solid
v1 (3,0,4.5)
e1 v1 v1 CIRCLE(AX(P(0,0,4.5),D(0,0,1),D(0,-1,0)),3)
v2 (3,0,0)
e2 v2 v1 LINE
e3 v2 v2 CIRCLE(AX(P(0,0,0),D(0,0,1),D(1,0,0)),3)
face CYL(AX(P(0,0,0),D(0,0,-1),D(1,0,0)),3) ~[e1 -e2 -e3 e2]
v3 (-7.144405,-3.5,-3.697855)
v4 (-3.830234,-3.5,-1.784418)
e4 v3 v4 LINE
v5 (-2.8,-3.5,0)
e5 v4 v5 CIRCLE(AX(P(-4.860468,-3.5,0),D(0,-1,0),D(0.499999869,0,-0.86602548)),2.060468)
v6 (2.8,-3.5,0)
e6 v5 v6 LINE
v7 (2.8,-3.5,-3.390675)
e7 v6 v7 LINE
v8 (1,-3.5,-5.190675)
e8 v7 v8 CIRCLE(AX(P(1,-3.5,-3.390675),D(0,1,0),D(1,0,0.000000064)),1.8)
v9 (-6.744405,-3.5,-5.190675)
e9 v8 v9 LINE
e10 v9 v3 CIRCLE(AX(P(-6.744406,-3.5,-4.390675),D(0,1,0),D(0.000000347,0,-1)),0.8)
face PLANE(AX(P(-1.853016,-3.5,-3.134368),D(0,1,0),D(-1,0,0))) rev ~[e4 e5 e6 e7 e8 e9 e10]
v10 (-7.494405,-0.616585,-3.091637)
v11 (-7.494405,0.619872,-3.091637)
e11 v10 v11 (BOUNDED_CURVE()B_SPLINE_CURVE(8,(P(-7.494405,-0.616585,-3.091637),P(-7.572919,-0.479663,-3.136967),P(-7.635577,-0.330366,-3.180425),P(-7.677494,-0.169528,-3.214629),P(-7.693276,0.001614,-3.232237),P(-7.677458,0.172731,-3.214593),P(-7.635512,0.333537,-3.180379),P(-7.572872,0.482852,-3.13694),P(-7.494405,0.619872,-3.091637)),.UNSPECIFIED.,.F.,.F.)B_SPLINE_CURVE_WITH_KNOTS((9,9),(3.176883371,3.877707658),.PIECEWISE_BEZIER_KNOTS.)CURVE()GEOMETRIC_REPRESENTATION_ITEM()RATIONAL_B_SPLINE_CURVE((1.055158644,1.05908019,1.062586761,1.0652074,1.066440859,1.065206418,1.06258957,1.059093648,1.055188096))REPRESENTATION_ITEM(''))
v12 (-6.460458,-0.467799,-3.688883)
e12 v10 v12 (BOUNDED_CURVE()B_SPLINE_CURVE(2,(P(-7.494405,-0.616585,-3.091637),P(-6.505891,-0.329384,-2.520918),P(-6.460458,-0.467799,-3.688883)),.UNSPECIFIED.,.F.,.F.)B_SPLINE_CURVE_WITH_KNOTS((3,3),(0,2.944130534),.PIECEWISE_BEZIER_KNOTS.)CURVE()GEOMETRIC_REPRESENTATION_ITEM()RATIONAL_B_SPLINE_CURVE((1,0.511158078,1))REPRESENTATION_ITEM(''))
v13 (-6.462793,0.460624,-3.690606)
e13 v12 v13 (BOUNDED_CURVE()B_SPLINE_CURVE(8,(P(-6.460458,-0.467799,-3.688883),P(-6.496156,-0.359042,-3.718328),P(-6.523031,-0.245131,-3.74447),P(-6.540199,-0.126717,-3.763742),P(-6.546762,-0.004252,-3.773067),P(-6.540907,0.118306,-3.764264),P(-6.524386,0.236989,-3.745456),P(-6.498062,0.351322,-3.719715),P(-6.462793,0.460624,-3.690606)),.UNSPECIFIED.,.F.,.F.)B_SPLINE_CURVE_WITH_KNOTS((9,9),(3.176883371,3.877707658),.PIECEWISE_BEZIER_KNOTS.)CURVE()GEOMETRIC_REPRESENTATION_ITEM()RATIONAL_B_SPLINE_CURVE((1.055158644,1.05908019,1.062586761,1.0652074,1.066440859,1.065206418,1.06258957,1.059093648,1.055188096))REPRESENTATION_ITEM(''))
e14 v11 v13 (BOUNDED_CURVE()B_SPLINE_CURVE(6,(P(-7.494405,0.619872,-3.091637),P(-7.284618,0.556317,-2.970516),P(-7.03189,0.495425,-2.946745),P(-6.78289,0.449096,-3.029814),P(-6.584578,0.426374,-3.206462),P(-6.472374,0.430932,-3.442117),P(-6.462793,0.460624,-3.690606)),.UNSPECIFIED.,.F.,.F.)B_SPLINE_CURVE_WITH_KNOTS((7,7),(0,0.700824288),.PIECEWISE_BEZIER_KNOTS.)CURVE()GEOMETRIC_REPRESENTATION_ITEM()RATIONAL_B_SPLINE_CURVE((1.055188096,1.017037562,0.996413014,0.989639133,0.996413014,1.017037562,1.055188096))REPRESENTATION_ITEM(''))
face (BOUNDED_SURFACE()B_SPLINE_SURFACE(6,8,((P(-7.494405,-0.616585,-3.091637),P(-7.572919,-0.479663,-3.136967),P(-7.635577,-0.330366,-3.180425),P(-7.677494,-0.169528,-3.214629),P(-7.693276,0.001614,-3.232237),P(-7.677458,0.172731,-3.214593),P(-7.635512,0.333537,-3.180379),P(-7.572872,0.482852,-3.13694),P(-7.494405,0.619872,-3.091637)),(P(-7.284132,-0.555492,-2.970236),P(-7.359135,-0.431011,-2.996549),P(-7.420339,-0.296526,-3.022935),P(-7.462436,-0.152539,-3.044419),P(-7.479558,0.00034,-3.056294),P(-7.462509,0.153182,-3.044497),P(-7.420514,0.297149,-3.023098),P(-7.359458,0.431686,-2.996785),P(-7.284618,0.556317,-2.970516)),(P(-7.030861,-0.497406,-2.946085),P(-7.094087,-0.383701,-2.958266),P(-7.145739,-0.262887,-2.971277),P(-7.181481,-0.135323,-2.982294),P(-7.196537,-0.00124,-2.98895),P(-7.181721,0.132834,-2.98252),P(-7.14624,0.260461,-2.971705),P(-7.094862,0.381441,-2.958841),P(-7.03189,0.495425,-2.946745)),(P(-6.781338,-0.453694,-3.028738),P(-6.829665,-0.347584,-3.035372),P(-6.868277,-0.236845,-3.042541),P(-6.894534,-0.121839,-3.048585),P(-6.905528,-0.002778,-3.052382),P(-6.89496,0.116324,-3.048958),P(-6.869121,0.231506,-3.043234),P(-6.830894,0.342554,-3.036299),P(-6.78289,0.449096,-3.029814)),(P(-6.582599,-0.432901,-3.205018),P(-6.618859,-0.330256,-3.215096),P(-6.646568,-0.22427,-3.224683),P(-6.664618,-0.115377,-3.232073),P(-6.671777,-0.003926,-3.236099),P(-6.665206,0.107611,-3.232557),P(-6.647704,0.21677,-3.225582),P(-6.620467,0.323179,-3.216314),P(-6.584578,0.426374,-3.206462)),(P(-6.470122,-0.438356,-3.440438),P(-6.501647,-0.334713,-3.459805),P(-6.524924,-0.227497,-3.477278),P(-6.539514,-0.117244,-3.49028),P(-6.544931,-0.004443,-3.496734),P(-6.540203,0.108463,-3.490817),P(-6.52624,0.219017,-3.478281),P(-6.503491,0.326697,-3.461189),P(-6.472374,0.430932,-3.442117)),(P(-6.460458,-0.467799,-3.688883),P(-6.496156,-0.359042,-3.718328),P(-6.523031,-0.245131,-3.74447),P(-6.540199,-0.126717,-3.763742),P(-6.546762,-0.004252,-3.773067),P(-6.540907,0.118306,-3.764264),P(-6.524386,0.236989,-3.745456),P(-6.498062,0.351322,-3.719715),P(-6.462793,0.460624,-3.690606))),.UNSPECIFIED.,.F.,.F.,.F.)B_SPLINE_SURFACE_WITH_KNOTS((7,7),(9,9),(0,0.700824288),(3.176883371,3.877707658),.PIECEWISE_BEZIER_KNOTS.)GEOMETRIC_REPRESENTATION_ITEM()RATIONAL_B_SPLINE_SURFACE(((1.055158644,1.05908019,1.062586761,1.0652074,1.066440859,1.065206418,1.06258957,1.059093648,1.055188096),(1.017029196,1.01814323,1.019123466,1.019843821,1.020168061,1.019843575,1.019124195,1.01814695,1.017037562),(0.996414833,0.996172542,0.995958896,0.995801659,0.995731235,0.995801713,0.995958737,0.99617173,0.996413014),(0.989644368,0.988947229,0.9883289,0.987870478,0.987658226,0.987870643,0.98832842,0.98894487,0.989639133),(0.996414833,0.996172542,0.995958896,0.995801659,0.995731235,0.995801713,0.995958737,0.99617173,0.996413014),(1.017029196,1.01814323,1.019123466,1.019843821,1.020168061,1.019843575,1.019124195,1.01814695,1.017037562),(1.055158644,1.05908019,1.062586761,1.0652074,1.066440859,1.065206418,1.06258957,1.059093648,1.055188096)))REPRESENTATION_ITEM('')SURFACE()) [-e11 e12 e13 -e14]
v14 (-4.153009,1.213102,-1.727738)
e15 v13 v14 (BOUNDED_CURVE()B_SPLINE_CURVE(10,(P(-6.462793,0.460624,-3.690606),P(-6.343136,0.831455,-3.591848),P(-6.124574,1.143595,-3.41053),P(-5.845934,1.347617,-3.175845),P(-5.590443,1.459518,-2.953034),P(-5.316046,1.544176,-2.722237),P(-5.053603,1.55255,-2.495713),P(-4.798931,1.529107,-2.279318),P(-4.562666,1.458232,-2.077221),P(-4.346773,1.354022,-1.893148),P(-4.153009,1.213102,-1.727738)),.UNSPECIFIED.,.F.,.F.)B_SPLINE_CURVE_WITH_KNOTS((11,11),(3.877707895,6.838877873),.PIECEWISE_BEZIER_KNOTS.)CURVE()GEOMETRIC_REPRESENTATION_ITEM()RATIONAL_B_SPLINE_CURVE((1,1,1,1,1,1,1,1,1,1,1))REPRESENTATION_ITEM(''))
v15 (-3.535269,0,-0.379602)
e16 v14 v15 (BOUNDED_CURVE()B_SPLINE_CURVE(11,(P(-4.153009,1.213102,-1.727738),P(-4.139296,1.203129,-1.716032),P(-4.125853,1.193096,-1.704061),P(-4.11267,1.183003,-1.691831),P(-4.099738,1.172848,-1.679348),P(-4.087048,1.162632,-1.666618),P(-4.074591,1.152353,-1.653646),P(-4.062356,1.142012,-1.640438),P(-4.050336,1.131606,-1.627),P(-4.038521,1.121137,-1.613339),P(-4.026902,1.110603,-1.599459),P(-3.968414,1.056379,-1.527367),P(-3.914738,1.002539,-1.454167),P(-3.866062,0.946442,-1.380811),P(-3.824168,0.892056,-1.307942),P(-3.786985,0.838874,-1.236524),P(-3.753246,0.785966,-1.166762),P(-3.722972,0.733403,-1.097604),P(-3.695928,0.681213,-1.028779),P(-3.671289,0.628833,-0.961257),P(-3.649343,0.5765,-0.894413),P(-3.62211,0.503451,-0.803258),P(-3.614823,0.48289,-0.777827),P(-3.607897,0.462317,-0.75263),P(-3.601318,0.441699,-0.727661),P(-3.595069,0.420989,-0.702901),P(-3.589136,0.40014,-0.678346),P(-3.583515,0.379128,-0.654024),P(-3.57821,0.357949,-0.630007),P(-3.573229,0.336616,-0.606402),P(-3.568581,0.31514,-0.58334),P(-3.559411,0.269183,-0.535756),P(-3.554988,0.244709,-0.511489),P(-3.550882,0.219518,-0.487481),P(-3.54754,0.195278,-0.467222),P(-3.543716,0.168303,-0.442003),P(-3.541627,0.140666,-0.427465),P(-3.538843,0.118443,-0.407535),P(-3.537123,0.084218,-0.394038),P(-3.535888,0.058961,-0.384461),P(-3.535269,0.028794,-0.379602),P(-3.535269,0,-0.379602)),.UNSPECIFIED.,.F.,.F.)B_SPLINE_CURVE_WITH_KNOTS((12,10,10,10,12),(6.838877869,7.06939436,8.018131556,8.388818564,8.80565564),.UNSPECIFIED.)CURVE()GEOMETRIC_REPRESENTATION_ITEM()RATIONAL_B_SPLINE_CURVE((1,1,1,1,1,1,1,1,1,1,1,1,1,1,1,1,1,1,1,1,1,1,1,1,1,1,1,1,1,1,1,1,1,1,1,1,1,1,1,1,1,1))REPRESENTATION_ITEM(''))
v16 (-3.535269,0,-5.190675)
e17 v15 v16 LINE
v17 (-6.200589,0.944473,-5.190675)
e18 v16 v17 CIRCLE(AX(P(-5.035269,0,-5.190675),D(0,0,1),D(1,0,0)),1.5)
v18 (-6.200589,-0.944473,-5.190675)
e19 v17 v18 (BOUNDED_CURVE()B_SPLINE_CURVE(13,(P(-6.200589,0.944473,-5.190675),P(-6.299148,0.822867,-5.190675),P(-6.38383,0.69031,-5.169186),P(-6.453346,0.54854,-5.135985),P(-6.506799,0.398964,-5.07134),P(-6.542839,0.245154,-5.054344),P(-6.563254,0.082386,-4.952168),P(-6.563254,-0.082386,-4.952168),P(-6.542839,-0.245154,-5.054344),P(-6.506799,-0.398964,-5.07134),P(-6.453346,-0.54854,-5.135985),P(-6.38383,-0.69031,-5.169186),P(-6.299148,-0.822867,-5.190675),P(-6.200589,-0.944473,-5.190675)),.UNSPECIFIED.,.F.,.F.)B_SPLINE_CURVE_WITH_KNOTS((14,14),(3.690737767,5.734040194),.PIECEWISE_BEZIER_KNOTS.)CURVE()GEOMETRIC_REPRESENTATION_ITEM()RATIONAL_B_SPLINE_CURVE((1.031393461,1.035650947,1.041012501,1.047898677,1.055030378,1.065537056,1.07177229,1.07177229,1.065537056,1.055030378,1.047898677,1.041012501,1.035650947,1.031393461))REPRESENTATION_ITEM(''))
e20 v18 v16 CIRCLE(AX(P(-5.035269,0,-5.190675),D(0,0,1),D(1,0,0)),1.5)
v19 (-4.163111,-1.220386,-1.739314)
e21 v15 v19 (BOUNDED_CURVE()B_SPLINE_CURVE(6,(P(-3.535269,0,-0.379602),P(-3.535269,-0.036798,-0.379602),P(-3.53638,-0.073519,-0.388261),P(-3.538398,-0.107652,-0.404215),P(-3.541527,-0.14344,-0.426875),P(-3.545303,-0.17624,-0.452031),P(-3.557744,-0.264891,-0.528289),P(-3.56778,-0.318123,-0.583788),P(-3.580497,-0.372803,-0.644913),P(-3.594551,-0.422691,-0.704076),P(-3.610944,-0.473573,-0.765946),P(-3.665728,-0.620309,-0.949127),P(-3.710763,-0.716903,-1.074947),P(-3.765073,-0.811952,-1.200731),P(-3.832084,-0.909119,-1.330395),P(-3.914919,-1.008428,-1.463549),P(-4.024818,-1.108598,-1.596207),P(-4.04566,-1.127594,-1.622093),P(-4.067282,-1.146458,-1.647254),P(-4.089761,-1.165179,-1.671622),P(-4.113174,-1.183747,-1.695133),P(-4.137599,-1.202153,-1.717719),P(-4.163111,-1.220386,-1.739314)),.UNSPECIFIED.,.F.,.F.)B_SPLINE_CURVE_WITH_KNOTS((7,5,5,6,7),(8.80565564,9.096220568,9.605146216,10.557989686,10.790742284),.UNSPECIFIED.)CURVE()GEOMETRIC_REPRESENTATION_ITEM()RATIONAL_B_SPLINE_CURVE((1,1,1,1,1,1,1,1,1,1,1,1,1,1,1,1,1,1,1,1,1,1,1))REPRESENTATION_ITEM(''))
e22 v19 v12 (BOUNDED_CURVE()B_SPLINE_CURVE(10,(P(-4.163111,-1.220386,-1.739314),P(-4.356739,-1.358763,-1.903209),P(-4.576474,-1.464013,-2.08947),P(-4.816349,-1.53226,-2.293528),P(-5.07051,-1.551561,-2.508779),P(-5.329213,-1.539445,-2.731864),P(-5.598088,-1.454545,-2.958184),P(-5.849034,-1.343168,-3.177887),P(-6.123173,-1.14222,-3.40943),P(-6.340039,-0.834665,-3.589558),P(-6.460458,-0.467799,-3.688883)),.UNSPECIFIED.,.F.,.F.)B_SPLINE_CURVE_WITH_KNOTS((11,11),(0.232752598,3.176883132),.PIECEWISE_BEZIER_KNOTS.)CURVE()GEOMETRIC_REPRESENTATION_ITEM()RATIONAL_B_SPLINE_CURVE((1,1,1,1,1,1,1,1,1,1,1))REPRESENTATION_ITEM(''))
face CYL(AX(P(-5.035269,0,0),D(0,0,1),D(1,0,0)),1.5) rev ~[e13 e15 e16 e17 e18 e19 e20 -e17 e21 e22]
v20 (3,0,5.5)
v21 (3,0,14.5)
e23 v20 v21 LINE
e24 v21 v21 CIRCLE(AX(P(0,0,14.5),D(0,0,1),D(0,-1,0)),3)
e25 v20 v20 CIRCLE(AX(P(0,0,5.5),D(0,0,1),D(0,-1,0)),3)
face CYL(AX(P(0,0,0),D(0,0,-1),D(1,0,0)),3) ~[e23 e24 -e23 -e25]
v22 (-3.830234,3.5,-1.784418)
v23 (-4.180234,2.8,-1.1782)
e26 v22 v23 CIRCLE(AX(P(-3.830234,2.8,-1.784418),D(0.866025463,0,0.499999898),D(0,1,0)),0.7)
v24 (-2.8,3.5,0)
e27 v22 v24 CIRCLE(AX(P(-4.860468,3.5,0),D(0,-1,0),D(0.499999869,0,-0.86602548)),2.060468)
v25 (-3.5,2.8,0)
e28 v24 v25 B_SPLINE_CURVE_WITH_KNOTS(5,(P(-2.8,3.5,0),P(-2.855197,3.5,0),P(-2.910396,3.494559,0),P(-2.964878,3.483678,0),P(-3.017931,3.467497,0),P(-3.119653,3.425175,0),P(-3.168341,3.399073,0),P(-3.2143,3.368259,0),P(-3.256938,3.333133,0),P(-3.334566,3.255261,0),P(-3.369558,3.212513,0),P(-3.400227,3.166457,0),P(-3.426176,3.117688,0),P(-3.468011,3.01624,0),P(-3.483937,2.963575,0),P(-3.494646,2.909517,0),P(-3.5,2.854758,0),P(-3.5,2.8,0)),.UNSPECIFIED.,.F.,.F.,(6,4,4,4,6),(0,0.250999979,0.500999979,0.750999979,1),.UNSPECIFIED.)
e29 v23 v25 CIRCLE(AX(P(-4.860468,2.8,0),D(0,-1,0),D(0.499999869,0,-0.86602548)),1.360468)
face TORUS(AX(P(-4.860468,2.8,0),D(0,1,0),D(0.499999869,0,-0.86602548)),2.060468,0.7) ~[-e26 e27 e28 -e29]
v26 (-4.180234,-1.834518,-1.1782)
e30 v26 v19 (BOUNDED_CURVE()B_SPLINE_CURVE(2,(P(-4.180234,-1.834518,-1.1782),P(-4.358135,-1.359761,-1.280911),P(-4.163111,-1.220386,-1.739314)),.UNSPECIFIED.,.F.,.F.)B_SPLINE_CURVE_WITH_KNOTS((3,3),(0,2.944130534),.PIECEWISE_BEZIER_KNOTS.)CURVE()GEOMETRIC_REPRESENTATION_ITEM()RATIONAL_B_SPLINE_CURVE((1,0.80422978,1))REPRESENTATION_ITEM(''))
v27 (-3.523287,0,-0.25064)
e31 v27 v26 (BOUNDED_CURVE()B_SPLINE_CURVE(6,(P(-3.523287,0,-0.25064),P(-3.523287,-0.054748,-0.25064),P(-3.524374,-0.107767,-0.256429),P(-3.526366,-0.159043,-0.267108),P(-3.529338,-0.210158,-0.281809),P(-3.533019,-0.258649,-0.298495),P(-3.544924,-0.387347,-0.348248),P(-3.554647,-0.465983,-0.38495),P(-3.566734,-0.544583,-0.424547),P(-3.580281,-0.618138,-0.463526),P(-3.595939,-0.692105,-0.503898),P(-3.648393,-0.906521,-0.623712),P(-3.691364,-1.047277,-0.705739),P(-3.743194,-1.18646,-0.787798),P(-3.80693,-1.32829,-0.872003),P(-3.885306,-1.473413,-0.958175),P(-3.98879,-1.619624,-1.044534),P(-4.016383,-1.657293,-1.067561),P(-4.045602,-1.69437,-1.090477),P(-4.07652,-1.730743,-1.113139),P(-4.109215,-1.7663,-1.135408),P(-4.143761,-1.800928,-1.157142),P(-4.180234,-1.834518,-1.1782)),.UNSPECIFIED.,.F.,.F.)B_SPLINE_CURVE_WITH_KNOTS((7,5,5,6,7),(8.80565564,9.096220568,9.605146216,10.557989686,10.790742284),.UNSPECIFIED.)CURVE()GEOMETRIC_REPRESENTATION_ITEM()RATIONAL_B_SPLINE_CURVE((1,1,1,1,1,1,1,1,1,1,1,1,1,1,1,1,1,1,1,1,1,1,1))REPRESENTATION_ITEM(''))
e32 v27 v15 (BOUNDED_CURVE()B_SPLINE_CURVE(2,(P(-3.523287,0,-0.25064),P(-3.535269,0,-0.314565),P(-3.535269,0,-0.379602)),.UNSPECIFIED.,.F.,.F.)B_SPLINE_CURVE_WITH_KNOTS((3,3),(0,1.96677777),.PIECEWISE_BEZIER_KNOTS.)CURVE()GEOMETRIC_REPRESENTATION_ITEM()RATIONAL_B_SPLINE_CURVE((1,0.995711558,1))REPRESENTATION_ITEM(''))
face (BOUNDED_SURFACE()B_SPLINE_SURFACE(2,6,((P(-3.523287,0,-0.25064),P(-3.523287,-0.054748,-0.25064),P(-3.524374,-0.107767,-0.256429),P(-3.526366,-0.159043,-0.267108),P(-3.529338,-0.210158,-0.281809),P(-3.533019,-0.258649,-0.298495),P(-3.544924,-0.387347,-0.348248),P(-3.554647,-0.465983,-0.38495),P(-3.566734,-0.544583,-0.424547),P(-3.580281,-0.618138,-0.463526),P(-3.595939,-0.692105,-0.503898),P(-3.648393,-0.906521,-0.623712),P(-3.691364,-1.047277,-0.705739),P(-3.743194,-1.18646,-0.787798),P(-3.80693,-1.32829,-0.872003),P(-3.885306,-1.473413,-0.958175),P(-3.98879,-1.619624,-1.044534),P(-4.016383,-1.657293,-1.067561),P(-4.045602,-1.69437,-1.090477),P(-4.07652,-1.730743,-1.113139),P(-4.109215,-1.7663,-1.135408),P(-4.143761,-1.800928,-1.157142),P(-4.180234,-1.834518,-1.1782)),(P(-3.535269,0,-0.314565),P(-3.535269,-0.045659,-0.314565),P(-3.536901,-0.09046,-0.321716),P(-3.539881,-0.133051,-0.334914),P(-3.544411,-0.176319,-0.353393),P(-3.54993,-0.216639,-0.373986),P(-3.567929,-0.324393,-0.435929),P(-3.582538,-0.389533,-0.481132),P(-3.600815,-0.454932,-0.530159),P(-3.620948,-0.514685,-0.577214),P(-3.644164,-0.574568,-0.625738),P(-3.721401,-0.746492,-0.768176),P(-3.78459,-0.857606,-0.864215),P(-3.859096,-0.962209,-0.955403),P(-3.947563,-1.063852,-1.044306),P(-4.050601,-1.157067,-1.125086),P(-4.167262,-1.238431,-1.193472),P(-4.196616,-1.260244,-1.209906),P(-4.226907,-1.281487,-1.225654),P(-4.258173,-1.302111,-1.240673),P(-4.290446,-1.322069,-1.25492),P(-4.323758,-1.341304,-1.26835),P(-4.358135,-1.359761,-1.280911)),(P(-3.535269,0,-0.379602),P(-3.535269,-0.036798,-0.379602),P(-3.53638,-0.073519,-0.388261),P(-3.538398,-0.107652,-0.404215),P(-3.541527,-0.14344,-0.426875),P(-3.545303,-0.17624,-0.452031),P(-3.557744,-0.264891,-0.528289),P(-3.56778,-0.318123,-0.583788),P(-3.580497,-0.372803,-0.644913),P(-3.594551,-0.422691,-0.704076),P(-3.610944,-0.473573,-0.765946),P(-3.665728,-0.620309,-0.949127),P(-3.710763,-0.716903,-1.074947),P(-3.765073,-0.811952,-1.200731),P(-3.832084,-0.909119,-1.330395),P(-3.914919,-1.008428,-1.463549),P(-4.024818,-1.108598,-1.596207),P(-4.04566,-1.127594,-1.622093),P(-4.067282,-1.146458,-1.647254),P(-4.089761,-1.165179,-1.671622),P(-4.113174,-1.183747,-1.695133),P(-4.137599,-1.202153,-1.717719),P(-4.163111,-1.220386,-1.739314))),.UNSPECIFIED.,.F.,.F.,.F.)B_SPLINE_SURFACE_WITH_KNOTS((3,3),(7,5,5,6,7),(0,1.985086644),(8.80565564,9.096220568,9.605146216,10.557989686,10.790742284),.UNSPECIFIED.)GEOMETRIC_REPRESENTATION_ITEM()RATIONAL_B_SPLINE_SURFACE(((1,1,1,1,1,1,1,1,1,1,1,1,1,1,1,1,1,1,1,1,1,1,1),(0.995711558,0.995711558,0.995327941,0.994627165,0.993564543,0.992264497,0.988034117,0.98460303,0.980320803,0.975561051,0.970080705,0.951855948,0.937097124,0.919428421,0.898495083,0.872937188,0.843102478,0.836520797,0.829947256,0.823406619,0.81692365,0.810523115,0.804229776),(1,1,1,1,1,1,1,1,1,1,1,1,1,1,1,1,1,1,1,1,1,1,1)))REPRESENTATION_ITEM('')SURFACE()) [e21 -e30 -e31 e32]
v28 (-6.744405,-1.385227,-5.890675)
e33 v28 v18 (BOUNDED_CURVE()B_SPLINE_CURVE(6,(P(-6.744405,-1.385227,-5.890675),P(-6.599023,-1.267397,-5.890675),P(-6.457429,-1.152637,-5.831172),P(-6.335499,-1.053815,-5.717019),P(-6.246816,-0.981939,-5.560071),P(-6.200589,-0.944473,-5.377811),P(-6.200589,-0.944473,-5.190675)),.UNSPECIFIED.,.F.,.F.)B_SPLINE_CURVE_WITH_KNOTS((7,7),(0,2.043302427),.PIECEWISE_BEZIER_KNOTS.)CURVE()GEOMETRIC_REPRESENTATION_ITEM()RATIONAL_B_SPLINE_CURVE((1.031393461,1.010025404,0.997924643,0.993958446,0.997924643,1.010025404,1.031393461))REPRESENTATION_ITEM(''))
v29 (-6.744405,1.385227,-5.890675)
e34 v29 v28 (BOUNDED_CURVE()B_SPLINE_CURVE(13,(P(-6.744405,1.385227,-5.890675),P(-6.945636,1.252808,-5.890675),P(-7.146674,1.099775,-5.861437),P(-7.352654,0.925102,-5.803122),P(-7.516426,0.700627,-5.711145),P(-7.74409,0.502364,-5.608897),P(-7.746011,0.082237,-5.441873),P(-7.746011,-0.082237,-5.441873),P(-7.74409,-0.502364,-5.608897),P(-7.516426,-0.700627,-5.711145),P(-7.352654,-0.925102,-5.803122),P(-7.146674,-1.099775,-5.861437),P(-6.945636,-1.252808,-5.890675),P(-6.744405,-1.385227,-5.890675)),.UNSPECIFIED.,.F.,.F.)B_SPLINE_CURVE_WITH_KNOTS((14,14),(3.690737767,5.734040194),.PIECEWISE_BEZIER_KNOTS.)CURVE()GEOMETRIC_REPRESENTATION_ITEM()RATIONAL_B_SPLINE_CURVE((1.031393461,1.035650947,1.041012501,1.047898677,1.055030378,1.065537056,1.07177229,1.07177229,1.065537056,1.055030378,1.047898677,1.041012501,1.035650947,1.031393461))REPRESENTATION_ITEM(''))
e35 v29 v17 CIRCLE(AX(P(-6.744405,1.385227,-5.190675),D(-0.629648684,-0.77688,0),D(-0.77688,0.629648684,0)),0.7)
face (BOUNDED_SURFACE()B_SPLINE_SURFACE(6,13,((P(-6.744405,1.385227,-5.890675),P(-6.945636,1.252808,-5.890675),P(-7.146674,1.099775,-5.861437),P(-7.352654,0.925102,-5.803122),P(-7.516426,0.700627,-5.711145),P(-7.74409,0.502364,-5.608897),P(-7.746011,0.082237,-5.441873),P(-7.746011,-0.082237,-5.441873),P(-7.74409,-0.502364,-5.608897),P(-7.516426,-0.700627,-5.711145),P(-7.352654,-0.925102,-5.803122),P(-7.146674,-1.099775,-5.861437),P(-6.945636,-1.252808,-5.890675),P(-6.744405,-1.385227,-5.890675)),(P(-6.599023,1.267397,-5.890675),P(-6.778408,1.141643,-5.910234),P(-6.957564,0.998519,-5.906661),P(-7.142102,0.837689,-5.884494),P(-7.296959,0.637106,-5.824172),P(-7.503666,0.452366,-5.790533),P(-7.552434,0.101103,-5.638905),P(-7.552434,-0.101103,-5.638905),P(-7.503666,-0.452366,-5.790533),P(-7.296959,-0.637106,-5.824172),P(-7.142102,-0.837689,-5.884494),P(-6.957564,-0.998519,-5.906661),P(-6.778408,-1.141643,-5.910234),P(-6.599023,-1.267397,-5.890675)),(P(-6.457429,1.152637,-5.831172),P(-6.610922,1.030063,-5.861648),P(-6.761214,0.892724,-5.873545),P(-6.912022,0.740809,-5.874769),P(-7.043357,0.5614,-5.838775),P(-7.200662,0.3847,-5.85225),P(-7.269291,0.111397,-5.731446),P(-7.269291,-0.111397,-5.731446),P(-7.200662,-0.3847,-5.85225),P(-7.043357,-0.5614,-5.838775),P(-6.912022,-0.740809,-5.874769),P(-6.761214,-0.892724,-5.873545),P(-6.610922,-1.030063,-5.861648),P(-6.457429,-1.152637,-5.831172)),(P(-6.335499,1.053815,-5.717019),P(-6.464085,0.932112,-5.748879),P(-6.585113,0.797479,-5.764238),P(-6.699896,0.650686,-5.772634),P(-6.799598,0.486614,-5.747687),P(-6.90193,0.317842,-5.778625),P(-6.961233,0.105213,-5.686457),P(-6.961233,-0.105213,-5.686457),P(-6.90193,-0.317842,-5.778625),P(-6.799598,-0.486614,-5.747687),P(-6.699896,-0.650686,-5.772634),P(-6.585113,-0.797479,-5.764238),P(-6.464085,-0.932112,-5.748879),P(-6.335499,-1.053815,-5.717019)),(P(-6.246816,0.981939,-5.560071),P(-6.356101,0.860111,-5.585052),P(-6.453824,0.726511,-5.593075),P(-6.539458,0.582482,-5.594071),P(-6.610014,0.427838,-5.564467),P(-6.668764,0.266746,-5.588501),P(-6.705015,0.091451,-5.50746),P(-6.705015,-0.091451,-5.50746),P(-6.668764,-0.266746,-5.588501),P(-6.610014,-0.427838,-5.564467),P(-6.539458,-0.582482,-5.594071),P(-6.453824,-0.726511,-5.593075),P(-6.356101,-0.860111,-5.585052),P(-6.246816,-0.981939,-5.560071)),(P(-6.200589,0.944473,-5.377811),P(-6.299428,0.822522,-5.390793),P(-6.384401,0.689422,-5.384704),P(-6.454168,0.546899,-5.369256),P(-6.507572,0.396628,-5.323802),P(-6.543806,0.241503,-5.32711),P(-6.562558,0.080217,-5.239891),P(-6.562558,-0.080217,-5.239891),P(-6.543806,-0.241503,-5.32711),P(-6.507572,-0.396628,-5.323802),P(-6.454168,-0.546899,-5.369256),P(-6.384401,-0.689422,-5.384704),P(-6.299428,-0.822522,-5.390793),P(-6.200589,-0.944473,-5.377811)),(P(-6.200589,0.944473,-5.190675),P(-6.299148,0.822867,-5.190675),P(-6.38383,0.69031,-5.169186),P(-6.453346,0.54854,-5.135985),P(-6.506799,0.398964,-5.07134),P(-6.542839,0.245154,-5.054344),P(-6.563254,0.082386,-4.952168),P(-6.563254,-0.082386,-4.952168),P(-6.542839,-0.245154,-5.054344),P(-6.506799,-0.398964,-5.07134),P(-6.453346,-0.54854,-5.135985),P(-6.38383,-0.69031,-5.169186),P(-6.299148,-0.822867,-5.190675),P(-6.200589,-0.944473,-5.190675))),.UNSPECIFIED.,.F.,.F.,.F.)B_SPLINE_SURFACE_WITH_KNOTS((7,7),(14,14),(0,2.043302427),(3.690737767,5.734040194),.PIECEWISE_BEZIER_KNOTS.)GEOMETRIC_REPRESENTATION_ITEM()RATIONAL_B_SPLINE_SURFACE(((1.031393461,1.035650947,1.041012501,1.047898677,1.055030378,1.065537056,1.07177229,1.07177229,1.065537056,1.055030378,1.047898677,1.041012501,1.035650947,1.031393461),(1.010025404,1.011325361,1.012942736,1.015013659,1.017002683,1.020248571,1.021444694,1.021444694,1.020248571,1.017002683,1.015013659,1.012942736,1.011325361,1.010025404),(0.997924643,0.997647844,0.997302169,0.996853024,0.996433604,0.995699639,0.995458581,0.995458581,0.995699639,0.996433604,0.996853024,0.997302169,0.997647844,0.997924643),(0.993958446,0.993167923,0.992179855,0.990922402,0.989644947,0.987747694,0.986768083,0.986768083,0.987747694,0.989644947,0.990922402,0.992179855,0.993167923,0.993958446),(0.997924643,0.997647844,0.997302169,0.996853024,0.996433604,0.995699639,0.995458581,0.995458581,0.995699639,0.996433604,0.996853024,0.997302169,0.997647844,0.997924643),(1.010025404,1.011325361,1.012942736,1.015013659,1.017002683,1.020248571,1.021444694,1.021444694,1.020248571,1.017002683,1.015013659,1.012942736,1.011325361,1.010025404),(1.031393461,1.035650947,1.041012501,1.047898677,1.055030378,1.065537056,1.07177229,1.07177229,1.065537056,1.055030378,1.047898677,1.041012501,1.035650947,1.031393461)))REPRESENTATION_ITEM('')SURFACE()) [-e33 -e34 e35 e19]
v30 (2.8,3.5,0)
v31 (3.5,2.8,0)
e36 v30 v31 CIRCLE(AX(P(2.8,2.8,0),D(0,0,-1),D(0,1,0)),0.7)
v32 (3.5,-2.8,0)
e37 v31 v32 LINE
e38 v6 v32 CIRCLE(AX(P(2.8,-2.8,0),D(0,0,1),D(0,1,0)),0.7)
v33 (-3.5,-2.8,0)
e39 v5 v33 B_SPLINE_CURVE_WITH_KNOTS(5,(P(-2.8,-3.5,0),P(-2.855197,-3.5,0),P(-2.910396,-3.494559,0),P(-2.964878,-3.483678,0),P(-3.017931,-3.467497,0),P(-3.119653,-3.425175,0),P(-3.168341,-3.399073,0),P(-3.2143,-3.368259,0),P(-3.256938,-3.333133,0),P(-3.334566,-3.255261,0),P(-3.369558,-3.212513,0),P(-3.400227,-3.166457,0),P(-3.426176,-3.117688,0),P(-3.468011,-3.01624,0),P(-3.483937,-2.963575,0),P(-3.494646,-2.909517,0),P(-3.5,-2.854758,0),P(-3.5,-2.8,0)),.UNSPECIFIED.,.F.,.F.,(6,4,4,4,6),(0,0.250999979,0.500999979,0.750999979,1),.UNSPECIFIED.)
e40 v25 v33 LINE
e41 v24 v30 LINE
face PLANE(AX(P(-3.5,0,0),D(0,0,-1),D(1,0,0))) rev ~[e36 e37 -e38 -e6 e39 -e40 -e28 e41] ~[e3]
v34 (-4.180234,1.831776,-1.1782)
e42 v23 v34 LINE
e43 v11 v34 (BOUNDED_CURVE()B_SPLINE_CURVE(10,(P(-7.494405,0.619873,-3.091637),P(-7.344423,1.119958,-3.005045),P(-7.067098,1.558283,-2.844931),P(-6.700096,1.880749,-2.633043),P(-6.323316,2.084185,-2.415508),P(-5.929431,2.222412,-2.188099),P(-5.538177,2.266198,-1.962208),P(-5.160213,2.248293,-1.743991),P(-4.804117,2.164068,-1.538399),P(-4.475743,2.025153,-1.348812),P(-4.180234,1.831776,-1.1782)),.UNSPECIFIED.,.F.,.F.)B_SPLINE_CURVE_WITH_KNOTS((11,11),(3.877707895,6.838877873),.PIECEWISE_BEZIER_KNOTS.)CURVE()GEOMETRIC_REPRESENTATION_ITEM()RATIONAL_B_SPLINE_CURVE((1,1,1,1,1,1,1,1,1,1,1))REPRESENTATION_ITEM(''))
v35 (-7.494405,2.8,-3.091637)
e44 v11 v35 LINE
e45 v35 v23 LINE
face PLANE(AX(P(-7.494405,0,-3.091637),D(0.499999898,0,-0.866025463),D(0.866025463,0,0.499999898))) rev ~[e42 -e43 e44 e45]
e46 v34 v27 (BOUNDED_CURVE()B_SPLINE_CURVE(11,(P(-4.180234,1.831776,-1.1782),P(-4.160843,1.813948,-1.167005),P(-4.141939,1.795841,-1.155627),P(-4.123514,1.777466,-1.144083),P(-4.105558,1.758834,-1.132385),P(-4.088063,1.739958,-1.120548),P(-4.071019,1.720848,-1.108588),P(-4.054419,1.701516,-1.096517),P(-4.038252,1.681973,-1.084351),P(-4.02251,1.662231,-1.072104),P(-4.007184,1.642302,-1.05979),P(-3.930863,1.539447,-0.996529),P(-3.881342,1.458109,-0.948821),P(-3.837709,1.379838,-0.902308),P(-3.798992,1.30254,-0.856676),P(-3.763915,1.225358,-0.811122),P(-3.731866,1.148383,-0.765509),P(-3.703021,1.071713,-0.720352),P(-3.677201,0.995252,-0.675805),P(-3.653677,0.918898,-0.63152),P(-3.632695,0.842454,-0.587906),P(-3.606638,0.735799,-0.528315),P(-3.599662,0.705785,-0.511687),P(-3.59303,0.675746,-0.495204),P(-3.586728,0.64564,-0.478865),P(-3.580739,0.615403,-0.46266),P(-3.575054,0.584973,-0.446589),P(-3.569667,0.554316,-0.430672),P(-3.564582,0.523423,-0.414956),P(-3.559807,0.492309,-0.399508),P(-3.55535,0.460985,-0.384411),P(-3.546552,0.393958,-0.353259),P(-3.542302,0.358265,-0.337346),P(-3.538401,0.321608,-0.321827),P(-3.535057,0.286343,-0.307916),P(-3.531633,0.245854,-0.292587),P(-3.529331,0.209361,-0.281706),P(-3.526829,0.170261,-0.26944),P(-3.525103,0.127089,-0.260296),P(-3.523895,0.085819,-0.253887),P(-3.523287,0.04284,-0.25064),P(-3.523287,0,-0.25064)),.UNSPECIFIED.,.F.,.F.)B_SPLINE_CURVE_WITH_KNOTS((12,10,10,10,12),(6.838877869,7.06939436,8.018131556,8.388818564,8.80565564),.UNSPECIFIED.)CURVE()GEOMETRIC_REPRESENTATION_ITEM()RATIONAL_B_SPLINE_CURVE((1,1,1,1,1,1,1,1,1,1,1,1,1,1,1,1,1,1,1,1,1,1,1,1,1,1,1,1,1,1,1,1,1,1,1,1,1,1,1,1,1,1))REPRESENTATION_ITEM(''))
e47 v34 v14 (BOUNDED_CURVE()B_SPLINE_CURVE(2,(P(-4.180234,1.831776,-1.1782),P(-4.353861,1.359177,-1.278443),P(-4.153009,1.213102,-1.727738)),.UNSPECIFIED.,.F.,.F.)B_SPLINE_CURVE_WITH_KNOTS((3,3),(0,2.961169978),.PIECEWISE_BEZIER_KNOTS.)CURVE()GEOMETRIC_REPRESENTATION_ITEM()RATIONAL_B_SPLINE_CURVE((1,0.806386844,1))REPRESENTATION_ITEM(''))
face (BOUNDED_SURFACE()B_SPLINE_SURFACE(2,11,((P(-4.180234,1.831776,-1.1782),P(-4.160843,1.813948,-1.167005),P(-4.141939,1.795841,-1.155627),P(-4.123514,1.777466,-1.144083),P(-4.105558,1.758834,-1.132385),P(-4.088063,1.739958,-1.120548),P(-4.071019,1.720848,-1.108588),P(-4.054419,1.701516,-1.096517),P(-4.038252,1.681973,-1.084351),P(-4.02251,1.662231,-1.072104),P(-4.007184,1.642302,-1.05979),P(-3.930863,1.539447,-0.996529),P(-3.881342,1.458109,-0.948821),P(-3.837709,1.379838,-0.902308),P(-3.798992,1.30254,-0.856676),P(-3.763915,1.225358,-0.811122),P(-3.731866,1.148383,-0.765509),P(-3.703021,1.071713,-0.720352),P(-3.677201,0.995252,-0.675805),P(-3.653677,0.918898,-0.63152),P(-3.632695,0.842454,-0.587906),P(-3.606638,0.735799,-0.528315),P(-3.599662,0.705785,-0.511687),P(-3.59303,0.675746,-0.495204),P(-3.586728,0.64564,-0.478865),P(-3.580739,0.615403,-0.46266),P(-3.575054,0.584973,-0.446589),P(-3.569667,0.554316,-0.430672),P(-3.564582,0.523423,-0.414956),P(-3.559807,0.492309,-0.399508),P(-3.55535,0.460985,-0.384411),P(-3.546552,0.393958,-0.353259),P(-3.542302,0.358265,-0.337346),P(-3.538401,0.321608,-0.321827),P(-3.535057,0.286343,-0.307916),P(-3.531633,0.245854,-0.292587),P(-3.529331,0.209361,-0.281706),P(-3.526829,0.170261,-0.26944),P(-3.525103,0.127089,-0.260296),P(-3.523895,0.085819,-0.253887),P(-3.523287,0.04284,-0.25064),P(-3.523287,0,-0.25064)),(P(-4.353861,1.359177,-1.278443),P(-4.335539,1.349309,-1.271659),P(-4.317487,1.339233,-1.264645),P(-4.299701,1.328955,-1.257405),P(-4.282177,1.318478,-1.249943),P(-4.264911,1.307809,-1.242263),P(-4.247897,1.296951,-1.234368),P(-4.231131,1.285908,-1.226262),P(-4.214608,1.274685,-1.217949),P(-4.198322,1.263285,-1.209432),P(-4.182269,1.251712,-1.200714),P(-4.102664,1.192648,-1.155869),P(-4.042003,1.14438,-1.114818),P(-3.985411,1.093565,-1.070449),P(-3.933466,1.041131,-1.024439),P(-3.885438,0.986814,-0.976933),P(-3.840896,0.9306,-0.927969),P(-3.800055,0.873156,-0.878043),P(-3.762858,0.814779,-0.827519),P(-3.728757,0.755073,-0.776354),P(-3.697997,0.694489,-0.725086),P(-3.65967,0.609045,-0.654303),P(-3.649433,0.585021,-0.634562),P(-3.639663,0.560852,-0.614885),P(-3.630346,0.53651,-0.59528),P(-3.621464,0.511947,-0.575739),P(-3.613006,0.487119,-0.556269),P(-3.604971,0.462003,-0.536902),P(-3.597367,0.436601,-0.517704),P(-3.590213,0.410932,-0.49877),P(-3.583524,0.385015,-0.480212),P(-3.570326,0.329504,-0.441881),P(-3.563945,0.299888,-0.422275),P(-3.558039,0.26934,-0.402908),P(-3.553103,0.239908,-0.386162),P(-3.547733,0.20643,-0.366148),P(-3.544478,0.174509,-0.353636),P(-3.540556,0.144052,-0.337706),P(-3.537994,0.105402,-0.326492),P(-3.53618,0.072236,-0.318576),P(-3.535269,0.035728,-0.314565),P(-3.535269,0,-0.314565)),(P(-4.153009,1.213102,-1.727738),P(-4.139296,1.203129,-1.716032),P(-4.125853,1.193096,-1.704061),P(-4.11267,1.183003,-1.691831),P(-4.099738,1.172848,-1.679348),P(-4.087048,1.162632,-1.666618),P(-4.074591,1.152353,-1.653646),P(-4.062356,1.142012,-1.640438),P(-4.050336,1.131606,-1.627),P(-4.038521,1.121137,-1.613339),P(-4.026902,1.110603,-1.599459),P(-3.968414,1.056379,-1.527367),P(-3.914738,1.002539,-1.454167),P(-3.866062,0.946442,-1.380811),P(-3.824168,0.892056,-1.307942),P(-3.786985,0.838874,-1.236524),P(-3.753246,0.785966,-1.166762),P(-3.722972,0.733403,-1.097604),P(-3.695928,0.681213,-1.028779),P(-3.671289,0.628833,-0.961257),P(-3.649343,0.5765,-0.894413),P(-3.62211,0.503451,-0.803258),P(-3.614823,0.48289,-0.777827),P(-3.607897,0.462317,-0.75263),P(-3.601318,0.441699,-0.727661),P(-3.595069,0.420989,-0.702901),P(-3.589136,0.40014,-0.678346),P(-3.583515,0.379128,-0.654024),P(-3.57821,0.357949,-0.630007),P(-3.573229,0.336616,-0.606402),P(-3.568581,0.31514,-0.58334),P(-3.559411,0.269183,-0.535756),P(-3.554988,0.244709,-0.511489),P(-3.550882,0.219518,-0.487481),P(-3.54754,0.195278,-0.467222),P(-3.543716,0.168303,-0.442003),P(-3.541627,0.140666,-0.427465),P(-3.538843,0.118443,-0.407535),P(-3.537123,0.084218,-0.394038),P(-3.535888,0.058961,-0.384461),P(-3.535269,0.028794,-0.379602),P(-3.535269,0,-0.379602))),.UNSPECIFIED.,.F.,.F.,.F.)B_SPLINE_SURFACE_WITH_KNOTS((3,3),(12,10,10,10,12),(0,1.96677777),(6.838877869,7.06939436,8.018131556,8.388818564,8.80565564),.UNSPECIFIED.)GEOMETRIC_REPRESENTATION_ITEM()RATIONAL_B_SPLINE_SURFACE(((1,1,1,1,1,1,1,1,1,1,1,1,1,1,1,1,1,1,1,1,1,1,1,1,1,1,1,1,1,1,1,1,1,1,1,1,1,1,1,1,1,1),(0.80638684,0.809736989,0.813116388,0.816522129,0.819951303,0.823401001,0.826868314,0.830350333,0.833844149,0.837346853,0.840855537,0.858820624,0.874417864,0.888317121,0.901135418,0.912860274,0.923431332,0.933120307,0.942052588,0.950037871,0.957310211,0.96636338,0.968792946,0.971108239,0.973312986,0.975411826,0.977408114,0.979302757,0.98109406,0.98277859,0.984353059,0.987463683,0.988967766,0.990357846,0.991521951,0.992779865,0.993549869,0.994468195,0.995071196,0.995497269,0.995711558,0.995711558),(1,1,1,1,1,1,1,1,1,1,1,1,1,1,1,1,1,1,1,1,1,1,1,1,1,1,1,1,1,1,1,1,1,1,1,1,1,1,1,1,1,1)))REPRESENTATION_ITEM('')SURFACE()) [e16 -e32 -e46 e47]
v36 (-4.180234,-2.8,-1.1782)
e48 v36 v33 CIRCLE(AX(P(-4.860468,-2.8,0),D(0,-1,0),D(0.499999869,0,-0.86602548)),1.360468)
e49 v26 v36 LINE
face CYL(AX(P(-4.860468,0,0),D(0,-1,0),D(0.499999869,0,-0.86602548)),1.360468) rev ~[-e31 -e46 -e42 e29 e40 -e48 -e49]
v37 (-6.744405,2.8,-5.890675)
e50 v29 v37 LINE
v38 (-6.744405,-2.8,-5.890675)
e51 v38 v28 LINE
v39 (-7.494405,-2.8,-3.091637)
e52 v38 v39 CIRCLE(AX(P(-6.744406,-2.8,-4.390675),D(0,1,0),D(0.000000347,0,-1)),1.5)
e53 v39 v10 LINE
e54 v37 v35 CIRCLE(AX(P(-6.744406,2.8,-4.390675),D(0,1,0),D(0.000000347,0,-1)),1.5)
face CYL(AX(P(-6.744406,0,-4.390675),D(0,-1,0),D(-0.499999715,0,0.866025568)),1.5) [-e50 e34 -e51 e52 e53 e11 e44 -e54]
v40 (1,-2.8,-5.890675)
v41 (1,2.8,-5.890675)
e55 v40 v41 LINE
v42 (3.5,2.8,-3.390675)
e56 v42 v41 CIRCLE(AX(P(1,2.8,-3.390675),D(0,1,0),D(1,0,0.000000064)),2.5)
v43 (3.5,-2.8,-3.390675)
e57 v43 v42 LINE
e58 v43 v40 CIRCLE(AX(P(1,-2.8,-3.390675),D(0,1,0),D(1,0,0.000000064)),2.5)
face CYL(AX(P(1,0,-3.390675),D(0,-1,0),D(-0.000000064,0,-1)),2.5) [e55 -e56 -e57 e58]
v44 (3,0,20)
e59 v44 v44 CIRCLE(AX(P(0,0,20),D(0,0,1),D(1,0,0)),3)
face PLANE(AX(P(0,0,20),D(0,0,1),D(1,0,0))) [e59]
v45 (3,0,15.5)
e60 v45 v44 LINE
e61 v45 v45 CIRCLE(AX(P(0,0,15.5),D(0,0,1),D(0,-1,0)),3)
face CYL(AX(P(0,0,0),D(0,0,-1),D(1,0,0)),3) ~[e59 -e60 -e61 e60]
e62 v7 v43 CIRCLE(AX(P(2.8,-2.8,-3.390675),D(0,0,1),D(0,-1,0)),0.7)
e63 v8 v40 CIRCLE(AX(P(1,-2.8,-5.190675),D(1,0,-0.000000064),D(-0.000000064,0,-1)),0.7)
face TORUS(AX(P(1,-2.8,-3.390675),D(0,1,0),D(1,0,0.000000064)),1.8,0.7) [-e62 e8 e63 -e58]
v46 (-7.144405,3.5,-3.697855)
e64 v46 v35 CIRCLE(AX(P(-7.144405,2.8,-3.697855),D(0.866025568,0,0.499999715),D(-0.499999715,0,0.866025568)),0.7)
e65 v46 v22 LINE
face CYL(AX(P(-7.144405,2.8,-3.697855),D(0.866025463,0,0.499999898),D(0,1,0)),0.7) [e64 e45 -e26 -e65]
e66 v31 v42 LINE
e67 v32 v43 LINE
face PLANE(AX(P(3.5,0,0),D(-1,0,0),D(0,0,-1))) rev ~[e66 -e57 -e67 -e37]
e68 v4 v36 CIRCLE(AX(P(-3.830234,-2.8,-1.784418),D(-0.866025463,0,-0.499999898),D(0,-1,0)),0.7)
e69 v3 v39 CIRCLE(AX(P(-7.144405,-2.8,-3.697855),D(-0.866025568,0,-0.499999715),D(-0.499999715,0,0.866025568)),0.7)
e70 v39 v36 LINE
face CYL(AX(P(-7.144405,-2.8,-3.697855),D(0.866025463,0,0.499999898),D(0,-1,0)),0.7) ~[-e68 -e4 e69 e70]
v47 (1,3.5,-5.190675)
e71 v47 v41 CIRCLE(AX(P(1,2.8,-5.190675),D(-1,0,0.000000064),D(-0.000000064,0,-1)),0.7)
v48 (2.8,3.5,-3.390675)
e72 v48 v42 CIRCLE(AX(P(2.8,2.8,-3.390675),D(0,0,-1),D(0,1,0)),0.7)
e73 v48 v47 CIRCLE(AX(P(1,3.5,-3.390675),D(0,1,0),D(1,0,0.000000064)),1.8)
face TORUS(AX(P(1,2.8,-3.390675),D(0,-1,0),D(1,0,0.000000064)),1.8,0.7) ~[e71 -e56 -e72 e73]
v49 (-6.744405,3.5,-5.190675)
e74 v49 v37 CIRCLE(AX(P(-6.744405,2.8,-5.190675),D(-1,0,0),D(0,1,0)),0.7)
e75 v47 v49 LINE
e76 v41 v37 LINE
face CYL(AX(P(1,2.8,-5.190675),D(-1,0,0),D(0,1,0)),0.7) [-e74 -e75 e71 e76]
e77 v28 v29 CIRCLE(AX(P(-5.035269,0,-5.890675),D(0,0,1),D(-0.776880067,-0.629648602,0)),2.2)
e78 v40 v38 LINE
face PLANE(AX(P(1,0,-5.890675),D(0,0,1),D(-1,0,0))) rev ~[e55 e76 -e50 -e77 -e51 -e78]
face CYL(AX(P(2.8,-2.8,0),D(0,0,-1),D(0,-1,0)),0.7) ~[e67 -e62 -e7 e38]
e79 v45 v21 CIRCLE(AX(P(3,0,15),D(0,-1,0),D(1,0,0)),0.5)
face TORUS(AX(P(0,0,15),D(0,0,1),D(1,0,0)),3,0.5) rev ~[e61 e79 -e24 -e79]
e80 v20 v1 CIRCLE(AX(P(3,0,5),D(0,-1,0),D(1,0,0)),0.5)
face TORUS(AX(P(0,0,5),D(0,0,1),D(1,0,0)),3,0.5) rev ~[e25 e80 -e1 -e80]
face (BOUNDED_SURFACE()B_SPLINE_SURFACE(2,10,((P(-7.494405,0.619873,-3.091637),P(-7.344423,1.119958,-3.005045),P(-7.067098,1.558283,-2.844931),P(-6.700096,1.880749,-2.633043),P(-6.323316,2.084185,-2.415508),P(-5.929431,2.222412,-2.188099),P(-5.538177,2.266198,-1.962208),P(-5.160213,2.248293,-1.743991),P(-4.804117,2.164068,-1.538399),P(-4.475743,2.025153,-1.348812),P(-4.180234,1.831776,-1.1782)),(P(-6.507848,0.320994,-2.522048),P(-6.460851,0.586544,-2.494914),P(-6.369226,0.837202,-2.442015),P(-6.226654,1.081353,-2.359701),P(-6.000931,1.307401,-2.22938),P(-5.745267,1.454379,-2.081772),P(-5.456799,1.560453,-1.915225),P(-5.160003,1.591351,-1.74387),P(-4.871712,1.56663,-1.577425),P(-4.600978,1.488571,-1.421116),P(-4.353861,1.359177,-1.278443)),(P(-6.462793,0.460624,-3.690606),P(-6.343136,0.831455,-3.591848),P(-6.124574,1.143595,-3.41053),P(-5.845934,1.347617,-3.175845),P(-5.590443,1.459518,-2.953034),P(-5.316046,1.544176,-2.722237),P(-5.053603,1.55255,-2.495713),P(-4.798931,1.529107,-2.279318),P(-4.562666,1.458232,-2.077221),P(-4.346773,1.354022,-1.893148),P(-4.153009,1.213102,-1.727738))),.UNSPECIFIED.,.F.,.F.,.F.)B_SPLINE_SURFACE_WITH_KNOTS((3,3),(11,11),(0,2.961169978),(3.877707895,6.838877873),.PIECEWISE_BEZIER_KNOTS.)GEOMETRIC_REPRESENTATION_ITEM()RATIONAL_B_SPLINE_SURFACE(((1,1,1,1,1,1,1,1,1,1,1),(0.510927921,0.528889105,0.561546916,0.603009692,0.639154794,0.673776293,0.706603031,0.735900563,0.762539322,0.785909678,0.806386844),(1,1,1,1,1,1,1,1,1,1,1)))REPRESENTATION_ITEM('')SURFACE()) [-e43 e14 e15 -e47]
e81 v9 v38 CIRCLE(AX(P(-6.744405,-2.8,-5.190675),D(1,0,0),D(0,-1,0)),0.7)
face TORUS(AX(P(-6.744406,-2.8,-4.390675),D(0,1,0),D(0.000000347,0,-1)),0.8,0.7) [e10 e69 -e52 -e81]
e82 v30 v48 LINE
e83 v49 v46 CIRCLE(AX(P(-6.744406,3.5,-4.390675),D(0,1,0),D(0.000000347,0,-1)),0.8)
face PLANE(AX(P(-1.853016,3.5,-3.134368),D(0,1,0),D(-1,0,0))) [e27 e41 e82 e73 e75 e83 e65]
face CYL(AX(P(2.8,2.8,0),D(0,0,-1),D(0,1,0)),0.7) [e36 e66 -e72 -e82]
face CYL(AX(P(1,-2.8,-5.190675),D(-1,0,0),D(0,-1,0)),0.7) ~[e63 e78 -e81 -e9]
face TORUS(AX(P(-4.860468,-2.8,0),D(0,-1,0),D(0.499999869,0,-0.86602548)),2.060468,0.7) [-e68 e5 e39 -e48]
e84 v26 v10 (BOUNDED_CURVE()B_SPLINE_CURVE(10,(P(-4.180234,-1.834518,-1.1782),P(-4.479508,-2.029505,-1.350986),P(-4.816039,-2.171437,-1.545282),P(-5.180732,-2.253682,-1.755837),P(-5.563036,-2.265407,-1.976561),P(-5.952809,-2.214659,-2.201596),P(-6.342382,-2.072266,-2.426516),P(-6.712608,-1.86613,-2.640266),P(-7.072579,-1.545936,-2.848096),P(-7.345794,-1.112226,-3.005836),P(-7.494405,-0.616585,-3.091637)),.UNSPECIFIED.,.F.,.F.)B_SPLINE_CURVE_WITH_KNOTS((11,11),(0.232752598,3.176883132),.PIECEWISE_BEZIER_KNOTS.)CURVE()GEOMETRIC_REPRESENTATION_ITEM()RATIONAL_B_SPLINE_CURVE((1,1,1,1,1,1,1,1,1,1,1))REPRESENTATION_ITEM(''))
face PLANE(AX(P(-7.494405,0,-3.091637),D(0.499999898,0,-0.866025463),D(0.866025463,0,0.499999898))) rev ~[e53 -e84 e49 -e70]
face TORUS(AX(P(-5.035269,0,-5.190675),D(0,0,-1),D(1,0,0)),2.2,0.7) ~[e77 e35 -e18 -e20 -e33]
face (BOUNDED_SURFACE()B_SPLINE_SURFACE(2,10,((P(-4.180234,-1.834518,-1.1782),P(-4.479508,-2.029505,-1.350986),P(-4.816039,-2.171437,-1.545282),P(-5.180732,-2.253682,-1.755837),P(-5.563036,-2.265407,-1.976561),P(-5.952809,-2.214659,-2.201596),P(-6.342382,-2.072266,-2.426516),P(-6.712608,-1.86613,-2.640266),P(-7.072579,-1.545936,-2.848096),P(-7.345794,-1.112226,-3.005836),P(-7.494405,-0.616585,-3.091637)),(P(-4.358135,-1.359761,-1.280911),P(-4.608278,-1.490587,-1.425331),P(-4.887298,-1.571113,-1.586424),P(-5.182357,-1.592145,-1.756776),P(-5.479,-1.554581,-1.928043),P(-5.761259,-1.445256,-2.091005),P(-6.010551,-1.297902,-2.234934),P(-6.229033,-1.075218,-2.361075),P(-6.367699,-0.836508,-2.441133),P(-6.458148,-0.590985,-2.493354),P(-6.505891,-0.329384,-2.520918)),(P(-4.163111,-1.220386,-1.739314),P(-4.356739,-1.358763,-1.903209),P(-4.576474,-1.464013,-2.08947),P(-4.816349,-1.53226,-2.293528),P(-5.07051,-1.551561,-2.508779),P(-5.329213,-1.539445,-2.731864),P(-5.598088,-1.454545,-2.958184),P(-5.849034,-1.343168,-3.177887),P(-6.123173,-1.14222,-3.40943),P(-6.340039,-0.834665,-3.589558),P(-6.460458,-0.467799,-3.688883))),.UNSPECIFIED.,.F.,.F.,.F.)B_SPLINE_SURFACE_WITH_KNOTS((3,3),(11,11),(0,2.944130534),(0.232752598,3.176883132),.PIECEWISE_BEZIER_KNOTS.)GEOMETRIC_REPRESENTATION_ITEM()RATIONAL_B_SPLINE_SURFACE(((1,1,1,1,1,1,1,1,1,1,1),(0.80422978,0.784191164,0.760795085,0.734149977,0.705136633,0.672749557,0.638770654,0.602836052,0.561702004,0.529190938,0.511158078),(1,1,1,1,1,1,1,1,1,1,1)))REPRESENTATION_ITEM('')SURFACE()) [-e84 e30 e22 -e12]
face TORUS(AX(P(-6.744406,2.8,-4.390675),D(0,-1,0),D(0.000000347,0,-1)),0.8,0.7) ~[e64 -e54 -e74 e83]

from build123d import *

# Parameters (mm, degrees)
SKETCH_R     = 3
PAD_DEPTH    = 20
SKETCH001_R  = 0.5
PAD001_DEPTH = 3.5
SKETCH003_R  = 1.5
POCKET_DEPTH = 5.891675
SKETCH004_R  = 0.5
FILLET_R     = 0.7


with BuildPart() as part:
    # Sketch → Pad (new body)
    with BuildSketch(Plane.XY):
        Circle(SKETCH_R)
    extrude(amount=PAD_DEPTH)

    # Sketch001 → Groove (revolve, cut)
    with BuildSketch(Plane.XZ):
        with Locations((3, 5)):
            Circle(SKETCH001_R)
    revolve(axis=Axis((0, 0, 0), (0, 0, 1)), mode=Mode.SUBTRACT)

    # Sketch002 → Pad001 (join, symmetric)
    with BuildSketch(Plane.XZ):
        with BuildLine():
            Line((3.5, 0), (3.5, -3.390675))
            ThreePointArc((1, -5.890675), (2.767767, -5.158442), (3.5, -3.390675))
            Line((1, -5.890675), (-6.744405, -5.890675))
            ThreePointArc((-7.494405, -3.091637), (-8.193294, -4.778904), (-6.744405, -5.890675))
            Line((-7.494405, -3.091637), (-4.180234, -1.1782))
            ThreePointArc((-4.180234, -1.1782), (-3.682268, -0.680234), (-3.5, 0))
            Line((-3.5, 0), (3.5, 0))
        make_face()
    extrude(amount=PAD001_DEPTH, both=True)

    # Sketch003 → Pocket (cut, through all)
    with BuildSketch(Plane.XY):
        with Locations((-5.035269, 0)):
            Circle(SKETCH003_R)
    extrude(amount=-POCKET_DEPTH, mode=Mode.SUBTRACT)

    # Sketch004 → Groove001 (revolve, cut)
    with BuildSketch(Plane.XZ):
        with Locations((3, 15)):
            Circle(SKETCH004_R)
    revolve(axis=Axis((0, 0, 0), (0, 0, 1)), mode=Mode.SUBTRACT)

    # Fillet
    fillet_edges = [part.edges().sort_by_distance(p)[0] for p in [
        (-5.837319, -3.5, -2.134918),
        (-3.682268, -3.5, -0.680234),
        (-8.193294, -3.5, -4.778904),
        (-2.872203, -3.5, -5.890675),
        (2.767767, -3.5, -5.158442),
        (3.5, -3.5, -1.695338),
        (-6.535269, -1e-06, -2.53788),
        (-3.708684, 0.700124, -0.724063),
        (-3.708684, -0.700124, -0.724063),
        (-6.535269, 0, -5.890675),
        (-3.682268, 3.5, -0.680234),
        (-5.837319, 3.5, -2.134918),
        (-8.193294, 3.5, -4.778904),
        (-2.872203, 3.5, -5.890675),
        (2.767767, 3.5, -5.158442),
        (3.5, 3.5, -1.695338),
    ]]
    fillet(fillet_edges, radius=FILLET_R)


solid = part.part
